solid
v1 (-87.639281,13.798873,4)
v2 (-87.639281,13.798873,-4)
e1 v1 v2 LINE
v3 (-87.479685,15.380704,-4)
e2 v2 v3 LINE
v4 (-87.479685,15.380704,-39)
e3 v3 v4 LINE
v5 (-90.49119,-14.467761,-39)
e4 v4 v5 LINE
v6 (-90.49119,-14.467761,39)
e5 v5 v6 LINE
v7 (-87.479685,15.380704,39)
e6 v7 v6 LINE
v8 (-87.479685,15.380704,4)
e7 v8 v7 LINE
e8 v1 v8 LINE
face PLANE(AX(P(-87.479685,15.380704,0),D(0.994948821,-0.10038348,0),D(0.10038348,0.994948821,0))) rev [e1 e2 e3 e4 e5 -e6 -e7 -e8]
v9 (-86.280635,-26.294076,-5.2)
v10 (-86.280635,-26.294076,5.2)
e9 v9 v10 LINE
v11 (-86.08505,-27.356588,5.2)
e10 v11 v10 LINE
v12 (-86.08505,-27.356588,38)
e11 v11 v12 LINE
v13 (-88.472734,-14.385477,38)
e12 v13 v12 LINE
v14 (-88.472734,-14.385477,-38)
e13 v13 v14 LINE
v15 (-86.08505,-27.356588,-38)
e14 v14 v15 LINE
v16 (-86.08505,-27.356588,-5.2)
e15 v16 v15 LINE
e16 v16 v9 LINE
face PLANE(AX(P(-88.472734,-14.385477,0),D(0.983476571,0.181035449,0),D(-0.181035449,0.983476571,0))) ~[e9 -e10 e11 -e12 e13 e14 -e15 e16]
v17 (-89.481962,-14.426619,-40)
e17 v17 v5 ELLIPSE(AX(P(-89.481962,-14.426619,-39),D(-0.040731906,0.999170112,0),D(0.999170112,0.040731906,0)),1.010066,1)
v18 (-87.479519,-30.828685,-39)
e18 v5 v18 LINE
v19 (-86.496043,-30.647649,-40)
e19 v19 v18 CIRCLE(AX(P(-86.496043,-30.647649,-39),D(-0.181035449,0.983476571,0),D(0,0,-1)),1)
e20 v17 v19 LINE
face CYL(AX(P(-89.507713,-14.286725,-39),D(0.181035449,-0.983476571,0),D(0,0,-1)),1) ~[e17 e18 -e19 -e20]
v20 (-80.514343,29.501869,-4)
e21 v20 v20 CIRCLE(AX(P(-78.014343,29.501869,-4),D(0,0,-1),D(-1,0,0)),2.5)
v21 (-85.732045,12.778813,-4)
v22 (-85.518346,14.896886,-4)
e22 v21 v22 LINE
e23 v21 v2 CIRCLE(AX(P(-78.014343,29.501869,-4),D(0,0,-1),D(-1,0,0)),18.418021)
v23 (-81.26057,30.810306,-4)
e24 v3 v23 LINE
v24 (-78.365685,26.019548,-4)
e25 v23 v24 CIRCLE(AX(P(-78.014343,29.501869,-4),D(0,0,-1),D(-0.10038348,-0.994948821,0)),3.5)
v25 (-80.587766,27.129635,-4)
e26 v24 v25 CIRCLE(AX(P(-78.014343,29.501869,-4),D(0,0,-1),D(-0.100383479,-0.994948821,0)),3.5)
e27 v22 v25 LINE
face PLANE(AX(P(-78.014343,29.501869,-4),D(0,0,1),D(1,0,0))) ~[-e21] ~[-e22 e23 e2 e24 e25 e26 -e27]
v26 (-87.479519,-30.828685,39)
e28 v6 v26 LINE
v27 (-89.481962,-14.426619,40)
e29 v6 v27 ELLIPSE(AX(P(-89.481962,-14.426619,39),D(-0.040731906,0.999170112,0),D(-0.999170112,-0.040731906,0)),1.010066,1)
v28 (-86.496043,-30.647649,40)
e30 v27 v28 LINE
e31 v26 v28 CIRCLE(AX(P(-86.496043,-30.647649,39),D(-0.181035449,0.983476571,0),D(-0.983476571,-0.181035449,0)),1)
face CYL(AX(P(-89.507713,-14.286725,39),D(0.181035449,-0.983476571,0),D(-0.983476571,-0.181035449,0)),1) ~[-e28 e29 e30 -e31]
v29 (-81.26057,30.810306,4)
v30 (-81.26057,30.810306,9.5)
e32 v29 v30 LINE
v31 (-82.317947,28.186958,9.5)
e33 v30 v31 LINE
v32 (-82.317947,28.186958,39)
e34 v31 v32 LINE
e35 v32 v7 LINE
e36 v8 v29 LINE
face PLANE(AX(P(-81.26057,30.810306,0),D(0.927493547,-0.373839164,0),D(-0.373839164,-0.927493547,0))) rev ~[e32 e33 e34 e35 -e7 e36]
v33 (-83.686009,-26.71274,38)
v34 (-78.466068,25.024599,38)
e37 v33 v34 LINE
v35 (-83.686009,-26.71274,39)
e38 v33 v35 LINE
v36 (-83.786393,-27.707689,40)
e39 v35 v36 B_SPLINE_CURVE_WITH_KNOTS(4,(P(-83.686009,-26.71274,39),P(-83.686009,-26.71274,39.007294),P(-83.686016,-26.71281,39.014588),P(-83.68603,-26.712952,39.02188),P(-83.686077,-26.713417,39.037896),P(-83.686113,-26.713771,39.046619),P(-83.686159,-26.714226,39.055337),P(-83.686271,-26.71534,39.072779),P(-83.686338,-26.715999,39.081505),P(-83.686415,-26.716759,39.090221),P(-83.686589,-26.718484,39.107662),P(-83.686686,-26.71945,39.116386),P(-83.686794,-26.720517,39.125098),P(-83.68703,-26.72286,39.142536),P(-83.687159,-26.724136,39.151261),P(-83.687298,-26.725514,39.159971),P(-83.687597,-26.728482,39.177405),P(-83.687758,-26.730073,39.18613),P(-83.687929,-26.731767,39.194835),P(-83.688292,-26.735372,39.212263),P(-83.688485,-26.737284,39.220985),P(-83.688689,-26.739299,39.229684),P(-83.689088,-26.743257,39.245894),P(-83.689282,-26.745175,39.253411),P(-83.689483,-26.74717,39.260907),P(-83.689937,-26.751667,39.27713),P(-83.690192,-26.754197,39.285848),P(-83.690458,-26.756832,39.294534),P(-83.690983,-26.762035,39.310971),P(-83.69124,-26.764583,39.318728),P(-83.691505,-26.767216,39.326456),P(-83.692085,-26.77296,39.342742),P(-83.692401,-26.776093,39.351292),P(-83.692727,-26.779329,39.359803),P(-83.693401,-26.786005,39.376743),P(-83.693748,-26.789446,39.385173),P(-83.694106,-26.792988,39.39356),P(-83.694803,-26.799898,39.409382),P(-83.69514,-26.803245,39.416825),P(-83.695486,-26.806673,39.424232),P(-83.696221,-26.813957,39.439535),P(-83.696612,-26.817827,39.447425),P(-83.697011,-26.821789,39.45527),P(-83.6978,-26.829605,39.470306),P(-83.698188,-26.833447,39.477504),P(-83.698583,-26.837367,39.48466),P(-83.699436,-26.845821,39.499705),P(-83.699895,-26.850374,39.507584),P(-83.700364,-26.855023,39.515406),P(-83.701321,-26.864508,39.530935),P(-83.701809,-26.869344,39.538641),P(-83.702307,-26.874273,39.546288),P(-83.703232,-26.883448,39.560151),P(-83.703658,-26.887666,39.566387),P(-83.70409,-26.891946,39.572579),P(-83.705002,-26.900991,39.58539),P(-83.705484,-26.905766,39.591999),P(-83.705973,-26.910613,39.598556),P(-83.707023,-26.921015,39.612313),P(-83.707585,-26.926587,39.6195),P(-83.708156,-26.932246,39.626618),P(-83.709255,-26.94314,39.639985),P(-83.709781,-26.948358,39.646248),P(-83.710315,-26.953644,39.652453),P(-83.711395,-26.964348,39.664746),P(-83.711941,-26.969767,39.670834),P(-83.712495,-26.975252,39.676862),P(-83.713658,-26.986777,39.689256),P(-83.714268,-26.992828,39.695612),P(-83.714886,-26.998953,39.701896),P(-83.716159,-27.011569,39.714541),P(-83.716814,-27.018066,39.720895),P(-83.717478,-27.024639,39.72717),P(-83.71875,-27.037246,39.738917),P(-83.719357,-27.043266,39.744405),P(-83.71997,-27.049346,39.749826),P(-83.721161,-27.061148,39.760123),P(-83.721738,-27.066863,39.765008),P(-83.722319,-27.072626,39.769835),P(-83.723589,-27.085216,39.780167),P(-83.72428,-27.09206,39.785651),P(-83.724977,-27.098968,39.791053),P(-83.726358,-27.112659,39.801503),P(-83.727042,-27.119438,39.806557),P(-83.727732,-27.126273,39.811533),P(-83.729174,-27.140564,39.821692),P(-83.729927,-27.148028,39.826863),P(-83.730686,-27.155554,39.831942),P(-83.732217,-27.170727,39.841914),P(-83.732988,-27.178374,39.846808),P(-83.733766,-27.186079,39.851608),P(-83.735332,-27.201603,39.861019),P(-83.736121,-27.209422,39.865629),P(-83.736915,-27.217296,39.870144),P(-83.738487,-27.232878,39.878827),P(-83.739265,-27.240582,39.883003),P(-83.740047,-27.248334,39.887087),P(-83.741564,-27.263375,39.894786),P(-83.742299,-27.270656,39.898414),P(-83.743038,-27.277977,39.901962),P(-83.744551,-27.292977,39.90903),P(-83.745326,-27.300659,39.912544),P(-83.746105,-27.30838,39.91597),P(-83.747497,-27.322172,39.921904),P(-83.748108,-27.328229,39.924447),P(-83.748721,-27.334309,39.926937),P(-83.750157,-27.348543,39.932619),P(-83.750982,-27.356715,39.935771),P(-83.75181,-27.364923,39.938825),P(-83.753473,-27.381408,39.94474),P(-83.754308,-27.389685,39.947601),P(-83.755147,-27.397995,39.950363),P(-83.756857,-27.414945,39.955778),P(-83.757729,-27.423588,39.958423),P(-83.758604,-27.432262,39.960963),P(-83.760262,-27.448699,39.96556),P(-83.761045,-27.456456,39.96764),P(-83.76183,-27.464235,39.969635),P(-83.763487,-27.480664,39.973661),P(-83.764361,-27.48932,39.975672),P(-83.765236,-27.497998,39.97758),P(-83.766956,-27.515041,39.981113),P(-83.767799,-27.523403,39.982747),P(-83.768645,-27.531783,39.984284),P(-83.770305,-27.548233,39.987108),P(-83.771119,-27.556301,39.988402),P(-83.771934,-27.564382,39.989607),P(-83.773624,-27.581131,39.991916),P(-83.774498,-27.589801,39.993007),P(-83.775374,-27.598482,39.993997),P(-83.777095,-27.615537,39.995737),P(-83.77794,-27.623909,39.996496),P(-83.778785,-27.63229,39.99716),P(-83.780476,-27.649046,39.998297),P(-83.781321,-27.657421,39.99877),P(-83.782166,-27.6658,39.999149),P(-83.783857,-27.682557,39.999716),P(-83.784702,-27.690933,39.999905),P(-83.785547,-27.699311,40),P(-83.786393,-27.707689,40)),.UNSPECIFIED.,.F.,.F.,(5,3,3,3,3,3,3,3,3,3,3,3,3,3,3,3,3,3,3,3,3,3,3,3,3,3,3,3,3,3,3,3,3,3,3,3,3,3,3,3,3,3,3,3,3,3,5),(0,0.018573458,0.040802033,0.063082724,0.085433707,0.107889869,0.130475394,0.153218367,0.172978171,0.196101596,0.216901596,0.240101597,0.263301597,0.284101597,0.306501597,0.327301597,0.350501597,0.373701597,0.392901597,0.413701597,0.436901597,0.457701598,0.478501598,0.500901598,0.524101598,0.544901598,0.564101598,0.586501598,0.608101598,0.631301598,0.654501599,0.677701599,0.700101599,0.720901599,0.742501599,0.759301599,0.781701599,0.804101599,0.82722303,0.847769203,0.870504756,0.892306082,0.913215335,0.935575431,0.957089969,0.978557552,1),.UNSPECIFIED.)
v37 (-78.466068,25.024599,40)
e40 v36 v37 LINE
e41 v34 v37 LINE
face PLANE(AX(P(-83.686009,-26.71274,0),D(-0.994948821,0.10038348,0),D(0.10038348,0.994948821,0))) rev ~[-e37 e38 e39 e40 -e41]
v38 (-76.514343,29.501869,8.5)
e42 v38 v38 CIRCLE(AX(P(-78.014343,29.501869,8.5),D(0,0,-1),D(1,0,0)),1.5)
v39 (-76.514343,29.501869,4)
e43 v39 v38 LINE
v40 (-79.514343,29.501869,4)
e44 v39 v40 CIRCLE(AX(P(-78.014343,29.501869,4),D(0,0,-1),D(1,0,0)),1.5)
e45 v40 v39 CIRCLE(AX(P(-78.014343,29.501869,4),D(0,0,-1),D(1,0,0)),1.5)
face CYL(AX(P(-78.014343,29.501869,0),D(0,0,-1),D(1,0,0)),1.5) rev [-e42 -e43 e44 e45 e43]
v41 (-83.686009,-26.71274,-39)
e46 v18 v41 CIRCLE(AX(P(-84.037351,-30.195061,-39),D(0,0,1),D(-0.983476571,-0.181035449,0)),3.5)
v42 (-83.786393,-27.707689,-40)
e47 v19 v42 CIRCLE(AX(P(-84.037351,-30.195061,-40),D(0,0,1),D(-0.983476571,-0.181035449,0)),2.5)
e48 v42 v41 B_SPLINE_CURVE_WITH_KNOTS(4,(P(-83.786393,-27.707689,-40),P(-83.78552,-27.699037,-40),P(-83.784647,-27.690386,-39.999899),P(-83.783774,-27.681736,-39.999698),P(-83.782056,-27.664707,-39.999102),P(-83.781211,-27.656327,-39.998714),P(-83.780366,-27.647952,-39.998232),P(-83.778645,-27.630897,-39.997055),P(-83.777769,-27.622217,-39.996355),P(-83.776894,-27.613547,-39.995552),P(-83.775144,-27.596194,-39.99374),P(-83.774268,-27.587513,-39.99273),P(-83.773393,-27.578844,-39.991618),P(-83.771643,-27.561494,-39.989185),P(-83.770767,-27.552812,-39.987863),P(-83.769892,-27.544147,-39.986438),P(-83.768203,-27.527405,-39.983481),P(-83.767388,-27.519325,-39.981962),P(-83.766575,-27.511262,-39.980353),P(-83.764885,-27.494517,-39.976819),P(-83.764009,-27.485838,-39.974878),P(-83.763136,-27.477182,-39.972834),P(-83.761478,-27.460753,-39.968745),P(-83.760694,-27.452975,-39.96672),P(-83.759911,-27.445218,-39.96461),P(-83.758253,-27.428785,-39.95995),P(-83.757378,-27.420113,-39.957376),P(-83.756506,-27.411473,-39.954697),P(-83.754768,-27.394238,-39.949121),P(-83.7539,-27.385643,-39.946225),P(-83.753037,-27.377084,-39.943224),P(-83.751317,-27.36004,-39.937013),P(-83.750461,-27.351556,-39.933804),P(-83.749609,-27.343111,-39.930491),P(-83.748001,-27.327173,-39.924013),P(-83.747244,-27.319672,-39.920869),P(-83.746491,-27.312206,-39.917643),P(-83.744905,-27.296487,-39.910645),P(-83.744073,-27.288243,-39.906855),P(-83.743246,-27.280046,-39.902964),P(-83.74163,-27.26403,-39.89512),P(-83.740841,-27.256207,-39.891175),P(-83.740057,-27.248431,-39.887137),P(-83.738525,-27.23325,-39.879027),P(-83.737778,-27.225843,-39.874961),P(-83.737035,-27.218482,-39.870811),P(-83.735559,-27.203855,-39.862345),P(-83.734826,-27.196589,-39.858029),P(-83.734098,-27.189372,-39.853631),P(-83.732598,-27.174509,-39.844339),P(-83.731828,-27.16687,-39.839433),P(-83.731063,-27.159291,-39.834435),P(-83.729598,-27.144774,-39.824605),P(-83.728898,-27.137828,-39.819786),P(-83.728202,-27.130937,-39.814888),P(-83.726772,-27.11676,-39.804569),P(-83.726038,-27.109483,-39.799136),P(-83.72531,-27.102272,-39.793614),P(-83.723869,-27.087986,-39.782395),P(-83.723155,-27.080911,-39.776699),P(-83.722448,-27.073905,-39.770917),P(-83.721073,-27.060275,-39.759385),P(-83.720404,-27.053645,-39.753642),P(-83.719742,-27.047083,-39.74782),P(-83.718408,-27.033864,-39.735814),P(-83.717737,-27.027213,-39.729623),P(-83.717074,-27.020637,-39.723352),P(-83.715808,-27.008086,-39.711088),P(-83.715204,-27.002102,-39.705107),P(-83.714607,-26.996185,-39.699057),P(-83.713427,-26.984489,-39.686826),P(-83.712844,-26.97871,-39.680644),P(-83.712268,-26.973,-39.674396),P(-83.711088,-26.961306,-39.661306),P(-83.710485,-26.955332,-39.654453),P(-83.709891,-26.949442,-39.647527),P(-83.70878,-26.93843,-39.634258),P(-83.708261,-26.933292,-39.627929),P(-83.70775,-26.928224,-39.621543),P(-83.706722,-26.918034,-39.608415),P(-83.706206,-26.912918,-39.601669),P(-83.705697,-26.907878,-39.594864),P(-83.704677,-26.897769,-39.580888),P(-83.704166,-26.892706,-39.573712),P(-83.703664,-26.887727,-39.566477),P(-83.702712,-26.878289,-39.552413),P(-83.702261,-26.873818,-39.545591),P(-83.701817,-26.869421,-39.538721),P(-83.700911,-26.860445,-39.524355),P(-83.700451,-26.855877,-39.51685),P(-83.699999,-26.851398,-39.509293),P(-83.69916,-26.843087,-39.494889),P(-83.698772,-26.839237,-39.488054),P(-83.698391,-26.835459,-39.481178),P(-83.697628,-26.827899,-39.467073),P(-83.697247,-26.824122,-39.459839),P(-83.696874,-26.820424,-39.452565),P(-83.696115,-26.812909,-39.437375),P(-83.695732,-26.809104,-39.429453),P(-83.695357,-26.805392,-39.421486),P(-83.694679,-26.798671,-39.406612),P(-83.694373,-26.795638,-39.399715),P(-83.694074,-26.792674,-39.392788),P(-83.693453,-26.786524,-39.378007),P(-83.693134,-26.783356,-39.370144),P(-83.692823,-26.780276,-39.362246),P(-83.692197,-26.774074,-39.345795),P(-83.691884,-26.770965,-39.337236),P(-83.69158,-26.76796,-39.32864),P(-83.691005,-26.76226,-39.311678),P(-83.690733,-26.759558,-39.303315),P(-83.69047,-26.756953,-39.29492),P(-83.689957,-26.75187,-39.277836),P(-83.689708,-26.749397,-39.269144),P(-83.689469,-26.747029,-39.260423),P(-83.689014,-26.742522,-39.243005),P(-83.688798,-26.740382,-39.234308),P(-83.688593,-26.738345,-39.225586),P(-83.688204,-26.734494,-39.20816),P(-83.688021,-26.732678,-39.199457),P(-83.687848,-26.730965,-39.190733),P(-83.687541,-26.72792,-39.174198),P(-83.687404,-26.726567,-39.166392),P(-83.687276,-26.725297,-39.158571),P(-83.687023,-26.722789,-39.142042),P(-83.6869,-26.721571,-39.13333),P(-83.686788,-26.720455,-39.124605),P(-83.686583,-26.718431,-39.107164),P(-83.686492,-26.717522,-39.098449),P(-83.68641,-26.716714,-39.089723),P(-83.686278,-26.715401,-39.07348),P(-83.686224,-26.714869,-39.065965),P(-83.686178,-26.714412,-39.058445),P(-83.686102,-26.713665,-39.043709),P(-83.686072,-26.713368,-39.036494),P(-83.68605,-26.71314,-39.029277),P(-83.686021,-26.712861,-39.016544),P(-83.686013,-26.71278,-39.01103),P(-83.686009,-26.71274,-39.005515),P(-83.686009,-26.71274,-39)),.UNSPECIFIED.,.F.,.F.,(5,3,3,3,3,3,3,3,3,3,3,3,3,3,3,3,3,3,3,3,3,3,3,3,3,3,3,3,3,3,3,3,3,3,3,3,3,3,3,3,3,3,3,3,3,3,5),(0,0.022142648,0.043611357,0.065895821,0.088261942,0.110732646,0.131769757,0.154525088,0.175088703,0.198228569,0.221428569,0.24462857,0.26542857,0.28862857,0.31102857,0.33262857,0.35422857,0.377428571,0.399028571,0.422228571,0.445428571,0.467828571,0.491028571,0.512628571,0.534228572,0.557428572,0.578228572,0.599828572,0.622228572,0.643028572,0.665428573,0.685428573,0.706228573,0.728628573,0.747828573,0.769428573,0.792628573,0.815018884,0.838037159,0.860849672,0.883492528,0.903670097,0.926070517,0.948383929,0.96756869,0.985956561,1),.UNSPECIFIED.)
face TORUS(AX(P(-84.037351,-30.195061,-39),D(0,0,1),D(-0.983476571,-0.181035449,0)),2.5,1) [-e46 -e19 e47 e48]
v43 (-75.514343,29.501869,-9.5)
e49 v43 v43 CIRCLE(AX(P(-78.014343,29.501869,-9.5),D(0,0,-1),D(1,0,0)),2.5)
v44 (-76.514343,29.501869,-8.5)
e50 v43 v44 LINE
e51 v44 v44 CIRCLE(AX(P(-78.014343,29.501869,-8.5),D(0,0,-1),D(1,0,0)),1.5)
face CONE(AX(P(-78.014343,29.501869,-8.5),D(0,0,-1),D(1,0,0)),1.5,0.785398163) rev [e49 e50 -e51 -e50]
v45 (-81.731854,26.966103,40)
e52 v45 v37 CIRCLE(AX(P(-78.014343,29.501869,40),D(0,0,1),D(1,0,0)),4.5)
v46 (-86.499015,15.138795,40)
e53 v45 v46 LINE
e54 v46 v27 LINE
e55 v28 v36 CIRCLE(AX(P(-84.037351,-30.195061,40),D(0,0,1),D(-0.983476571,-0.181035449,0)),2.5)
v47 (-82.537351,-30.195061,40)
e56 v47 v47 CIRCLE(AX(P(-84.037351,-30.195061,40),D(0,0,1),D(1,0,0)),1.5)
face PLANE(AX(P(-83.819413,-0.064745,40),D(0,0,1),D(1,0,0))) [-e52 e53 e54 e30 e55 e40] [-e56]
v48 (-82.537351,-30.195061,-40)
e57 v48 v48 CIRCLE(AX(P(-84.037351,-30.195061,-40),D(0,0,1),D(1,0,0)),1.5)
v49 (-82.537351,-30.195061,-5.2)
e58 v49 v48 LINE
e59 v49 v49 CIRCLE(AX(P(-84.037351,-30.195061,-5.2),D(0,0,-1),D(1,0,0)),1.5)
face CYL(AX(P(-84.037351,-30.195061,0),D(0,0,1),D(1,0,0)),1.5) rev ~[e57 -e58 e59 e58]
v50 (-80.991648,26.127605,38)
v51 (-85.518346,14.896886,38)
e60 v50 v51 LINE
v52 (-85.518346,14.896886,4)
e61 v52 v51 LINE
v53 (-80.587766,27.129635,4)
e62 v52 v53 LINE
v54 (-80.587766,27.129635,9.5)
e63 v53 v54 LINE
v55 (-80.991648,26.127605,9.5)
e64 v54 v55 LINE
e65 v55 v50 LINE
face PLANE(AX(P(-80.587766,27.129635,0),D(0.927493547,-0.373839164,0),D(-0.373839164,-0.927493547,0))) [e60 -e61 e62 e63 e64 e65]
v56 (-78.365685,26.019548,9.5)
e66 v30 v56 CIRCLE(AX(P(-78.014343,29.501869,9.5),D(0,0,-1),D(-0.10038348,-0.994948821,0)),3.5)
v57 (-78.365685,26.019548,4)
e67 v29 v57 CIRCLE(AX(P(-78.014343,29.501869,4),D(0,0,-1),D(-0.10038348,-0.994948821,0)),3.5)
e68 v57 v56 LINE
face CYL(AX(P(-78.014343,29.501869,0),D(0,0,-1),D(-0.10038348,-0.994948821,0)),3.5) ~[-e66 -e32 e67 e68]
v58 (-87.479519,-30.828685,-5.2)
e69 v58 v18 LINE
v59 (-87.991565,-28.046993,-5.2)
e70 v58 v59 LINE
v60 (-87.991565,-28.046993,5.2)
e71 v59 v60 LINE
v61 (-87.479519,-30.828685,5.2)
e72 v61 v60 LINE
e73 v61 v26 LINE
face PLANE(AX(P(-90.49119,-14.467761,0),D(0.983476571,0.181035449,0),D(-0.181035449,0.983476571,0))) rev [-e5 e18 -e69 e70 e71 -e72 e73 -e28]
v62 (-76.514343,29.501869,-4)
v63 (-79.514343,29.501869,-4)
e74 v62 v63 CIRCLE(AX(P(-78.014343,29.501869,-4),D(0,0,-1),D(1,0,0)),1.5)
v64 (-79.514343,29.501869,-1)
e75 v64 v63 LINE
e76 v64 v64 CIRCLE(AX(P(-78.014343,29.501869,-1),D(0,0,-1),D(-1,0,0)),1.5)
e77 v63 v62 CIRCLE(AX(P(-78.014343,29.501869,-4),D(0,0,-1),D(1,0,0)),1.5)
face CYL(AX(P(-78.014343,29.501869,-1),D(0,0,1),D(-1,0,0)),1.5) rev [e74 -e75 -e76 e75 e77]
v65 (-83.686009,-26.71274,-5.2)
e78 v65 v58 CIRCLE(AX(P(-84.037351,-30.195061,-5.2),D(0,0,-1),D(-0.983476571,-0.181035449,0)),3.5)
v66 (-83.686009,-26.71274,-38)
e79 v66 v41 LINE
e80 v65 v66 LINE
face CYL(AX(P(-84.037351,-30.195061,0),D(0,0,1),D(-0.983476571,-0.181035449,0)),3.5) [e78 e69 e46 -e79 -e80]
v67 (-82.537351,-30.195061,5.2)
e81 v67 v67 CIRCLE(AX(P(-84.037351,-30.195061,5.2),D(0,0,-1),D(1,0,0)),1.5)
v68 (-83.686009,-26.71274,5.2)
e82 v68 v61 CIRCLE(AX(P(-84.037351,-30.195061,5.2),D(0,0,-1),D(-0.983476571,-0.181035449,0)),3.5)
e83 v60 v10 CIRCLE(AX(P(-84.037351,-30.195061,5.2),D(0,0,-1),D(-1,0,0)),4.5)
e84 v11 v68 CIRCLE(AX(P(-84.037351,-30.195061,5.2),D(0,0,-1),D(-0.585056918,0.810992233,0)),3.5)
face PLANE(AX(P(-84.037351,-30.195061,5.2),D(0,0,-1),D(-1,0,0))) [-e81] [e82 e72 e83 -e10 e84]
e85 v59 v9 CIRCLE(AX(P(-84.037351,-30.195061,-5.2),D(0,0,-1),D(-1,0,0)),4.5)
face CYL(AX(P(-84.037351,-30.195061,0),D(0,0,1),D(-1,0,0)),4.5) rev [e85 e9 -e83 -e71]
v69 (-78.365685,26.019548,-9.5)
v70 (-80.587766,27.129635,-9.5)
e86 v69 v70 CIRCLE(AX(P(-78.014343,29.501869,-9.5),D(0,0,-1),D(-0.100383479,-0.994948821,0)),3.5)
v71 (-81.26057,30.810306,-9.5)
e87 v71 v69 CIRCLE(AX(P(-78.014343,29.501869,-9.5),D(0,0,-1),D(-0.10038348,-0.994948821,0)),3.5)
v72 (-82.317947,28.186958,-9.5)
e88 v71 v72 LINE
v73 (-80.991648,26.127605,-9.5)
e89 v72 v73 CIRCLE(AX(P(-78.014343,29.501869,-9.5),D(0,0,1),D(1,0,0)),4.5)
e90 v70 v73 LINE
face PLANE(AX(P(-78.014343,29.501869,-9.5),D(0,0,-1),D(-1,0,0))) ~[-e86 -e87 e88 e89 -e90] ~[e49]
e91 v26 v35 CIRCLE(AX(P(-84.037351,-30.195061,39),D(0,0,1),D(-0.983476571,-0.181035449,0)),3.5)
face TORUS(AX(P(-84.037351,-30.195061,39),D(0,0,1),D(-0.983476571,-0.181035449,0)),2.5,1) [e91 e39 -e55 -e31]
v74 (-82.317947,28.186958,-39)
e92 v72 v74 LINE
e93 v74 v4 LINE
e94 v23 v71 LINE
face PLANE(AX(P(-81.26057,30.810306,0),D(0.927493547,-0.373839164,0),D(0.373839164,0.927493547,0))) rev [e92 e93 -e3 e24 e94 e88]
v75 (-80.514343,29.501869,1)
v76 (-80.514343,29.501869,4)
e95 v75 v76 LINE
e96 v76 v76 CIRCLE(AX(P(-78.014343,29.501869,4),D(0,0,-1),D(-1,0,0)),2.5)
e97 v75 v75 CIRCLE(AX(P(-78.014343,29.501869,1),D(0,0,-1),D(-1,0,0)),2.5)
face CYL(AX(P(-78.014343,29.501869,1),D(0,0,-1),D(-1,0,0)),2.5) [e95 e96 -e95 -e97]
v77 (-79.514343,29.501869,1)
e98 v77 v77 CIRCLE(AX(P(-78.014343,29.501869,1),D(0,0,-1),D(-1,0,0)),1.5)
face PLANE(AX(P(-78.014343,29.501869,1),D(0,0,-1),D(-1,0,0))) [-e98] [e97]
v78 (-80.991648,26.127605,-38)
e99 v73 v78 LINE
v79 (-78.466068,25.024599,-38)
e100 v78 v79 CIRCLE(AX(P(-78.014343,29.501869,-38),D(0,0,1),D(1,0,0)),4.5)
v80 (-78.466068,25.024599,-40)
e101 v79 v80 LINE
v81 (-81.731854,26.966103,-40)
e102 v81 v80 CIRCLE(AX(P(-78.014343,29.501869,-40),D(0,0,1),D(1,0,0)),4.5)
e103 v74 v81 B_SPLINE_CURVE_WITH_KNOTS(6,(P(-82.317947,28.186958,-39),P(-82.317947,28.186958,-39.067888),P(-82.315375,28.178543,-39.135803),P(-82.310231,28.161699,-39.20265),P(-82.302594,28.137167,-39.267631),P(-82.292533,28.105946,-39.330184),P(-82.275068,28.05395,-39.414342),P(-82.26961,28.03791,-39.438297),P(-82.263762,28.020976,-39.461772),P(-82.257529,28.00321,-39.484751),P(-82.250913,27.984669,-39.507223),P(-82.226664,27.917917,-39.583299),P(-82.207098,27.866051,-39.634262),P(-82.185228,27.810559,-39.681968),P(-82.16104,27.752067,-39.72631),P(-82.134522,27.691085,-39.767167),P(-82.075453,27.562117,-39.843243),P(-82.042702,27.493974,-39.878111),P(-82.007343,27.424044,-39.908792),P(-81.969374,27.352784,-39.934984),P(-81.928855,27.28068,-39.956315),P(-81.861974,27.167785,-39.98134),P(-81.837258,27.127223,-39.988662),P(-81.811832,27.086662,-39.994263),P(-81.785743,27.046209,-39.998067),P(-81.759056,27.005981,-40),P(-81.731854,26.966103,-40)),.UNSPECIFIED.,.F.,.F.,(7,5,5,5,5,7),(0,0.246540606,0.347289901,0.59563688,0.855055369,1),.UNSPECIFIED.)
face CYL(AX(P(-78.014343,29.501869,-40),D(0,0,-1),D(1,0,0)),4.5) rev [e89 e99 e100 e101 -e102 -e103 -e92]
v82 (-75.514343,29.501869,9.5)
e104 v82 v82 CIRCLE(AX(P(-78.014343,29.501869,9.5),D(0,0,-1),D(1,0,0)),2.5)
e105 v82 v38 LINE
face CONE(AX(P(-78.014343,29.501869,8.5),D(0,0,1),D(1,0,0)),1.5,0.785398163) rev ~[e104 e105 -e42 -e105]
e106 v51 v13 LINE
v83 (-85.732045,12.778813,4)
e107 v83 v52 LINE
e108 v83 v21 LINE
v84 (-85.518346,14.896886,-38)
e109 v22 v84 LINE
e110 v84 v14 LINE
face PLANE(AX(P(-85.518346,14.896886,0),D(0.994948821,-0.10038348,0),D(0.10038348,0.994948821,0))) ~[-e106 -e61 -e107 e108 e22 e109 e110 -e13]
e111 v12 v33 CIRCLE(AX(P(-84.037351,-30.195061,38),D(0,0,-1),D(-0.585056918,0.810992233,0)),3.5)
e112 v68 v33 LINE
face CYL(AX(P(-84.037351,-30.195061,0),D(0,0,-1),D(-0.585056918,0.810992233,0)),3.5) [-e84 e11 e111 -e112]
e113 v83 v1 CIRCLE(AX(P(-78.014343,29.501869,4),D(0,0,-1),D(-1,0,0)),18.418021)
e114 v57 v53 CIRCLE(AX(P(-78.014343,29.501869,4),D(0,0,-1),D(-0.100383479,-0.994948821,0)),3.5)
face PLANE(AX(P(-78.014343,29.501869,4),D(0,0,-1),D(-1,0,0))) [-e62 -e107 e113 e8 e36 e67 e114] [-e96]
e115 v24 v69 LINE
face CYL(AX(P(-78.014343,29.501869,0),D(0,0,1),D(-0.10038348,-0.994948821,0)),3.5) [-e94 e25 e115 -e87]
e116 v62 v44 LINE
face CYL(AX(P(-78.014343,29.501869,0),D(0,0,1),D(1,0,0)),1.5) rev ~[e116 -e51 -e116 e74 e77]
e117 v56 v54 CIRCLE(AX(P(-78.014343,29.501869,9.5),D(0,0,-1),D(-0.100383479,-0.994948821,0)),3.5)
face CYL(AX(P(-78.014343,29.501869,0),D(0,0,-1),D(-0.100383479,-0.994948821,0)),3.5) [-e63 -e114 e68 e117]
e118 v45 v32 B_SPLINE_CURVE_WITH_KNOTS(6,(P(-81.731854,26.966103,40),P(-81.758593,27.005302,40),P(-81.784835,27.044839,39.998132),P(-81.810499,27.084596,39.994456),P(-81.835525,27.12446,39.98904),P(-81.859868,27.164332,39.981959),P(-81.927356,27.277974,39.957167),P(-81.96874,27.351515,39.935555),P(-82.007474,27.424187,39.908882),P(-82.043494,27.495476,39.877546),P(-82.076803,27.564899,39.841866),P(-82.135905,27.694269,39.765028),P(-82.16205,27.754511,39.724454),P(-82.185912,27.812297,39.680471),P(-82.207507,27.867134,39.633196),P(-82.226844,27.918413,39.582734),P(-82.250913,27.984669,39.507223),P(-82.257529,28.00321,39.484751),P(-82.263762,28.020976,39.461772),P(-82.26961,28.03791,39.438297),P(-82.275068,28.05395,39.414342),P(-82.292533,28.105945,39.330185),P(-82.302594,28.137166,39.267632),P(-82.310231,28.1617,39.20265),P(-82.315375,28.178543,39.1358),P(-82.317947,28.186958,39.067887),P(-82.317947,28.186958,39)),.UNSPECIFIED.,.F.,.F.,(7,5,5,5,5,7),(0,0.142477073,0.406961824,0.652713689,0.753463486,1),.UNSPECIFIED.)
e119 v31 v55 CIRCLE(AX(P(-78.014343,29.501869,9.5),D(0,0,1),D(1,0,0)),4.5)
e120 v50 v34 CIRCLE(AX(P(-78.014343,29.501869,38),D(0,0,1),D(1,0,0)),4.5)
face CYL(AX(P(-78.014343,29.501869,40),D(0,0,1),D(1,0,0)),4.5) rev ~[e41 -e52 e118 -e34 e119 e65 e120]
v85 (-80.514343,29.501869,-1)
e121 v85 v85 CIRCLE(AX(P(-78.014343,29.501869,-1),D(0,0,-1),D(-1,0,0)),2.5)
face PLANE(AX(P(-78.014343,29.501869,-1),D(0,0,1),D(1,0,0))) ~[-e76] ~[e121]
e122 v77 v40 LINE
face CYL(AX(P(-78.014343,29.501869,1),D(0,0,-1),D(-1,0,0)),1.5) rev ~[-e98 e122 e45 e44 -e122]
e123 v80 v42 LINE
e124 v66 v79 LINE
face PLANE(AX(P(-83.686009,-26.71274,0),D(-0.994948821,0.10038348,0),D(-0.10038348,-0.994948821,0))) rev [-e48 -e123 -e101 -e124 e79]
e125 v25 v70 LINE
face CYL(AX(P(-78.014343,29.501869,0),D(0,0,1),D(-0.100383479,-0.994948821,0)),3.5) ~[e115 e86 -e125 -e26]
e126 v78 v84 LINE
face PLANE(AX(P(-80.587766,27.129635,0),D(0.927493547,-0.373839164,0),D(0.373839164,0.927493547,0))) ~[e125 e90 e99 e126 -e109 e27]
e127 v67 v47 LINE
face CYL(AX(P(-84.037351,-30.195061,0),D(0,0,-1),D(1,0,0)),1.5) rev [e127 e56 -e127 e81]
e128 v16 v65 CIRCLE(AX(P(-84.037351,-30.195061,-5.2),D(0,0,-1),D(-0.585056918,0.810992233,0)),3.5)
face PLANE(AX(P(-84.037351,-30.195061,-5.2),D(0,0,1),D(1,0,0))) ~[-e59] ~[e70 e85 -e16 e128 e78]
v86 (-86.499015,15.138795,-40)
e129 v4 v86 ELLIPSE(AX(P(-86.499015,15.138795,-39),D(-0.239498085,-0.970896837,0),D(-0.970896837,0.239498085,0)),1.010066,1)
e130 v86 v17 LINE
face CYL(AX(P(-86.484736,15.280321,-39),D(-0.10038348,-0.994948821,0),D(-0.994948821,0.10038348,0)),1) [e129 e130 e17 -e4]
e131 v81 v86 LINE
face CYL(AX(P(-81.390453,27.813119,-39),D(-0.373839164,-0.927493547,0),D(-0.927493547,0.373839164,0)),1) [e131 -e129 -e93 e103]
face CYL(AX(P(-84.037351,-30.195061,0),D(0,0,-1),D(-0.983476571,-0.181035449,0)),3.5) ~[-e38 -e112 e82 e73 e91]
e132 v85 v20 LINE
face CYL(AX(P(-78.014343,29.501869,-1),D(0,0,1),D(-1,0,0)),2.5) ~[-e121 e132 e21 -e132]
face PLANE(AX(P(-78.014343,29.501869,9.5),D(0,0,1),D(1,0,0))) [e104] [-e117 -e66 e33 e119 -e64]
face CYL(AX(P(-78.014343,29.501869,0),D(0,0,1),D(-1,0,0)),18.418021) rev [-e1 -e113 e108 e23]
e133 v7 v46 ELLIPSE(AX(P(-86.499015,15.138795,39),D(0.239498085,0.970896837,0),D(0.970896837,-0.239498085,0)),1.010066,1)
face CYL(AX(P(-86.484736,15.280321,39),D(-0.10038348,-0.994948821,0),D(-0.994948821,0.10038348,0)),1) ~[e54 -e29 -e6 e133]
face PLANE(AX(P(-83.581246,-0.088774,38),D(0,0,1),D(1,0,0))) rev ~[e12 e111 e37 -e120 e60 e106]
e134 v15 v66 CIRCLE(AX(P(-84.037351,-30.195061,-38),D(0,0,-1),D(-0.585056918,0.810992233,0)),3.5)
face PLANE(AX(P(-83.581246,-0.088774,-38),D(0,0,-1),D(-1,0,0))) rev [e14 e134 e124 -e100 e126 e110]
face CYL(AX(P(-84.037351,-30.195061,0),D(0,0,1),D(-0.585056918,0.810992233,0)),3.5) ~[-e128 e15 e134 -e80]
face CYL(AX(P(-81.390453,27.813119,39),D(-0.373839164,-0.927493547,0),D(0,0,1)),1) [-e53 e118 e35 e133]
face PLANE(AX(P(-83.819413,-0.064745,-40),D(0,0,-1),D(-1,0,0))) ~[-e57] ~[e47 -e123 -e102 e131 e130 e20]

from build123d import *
from build123d.topology import SkipClean

# Parameters (mm, degrees)
CROQUIS2_R              = 1.5
SALIENTE_EXTRUIR1_DEPTH = 40
CORTAR_EXTRUIR8_DEPTH   = 38
CROQUIS21_R             = 4.5
CORTAR_EXTRUIR9_DEPTH   = 30.5
CHAFL_N1_SIZE           = 1
CROQUIS22_R             = 18.418021377
CORTAR_EXTRUIR10_DEPTH  = 4
SALIENTE_EXTRUIR2_START = 3
CROQUIS23_R             = 2.5
CROQUIS23_R_2           = 1.5
SALIENTE_EXTRUIR2_DEPTH = 3
CROQUIS24_R             = 4.5
CORTAR_EXTRUIR11_DEPTH  = 5.2
REDONDEO_CABLE_PLANO_R  = 1


with BuildPart() as part:
    # Croquis2 → Saliente-Extruir1 (new body)
    with BuildSketch(Plane.XY):
        with BuildLine():
            Line((-81.260569926, 30.810305605), (-87.479685276, 15.380704046))
            Line((-87.479685276, 15.380704046), (-90.491189661, -14.467760593))
            Line((-90.491189661, -14.467760593), (-87.479519283, -30.828684819))
            ThreePointArc((-87.479519283, -30.828684819), (-81.463725094, -32.56707429), (-83.686009105, -26.712739874))
            Line((-83.686009105, -26.712739874), (-78.365684691, 26.019547656))
            ThreePointArc((-78.365684691, 26.019547656), (-75.018767914, 31.311988091), (-81.260569926, 30.810305605))
        make_face()
        with Locations((-78.014342512, 29.50186853)):
            Circle(CROQUIS2_R, mode=Mode.SUBTRACT)
        with Locations((-84.037351283, -30.195060749)):
            Circle(CROQUIS2_R, mode=Mode.SUBTRACT)
    extrude(amount=SALIENTE_EXTRUIR1_DEPTH)

    # Croquis20 → Cortar-Extruir8 (cut)
    with BuildSketch(Plane(origin=(0, 0, 0), x_dir=(-1, 0, 0), z_dir=(0, 0, -1))):
        with BuildLine():
            Line((80.58776607, 27.129635154), (85.518345507, 14.896886302))
            Line((85.518345507, 14.896886302), (88.472734145, -14.385476766))
            Line((88.472734145, -14.385476766), (86.085050495, -27.356587931))
            ThreePointArc((86.085050495, -27.356587931), (84.944567837, -26.814682349), (83.686009105, -26.712739874))
            Line((83.686009105, -26.712739874), (78.365684691, 26.019547656))
            ThreePointArc((78.365684691, 26.019547656), (79.578515526, 26.370836307), (80.58776607, 27.129635154))
        make_face()
    extrude(amount=-CORTAR_EXTRUIR8_DEPTH, mode=Mode.SUBTRACT)

    # Croquis21 → Cortar-Extruir9 (cut)
    with BuildSketch(Plane.XY.offset(40)):
        with Locations((-78.014342512, 29.50186853)):
            Circle(CROQUIS21_R)
    extrude(amount=-CORTAR_EXTRUIR9_DEPTH, mode=Mode.SUBTRACT)

    # Chaflán1
    chafl_n1_edges = [part.edges().sort_by_distance(p)[0] for p in [
        (-79.514342512, 29.50186853, 9.5),
    ]]
    chamfer(chafl_n1_edges, length=CHAFL_N1_SIZE)

    # Croquis22 → Cortar-Extruir10 (cut)
    with BuildSketch(Plane(origin=(0, 0, 0), x_dir=(-1, 0, 0), z_dir=(0, 0, -1))):
        with Locations((78.014342512, 29.50186853)):
            Circle(CROQUIS22_R)
    extrude(amount=-CORTAR_EXTRUIR10_DEPTH, mode=Mode.SUBTRACT)

    # Croquis23 → Saliente-Extruir2 (add)
    with SkipClean():  # the faces are left unmerged after this step: merging them gives an invalid solid
        with BuildSketch(Plane(origin=(0, 0, 4), x_dir=(-1, 0, 0), z_dir=(0, 0, -1)).offset(SALIENTE_EXTRUIR2_START)):
            with Locations((78.014342512, 29.50186853)):
                Circle(CROQUIS23_R)
            with Locations((78.014342512, 29.50186853)):
                Circle(CROQUIS23_R_2, mode=Mode.SUBTRACT)
        extrude(amount=-SALIENTE_EXTRUIR2_DEPTH)

    # Croquis24 → Cortar-Extruir11 (cut)
    with SkipClean():  # the faces are left unmerged after this step: merging them gives an invalid solid
        with BuildSketch(Plane(origin=(0, 0, 0), x_dir=(-1, 0, 0), z_dir=(0, 0, -1))):
            with Locations((84.037351283, -30.195060749)):
                Circle(CROQUIS24_R)
        extrude(amount=-CORTAR_EXTRUIR11_DEPTH, mode=Mode.SUBTRACT)

    # Simetría1: part across plane


with BuildPart() as part_1:
    with SkipClean():  # the faces are left unmerged after this step: merging them gives an invalid solid
        add(part.part)
        add(part.part.mirror(Plane(origin=(-78.014342512, 29.50186853, 0), x_dir=(1, 0, 0), z_dir=(0, 0, -1))))

    # Redondeo Cable plano
    redondeo_cable_plano_edges = [part_1.edges().sort_by_distance(p)[0] for p in [
        (-81.463725094, -32.56707429, -40),
        (-84.898816017, 21.783830873, -40),
        (-88.985437468, 0.456471727, -40),
        (-88.985354472, -22.648222706, -40),
        (-88.985437468, 0.456471727, 40),
        (-88.985354472, -22.648222706, 40),
        (-81.463725094, -32.56707429, 40),
        (-84.898816017, 21.783830873, 40),
    ]]
    fillet(redondeo_cable_plano_edges, radius=REDONDEO_CABLE_PLANO_R)


solid = part_1.part
